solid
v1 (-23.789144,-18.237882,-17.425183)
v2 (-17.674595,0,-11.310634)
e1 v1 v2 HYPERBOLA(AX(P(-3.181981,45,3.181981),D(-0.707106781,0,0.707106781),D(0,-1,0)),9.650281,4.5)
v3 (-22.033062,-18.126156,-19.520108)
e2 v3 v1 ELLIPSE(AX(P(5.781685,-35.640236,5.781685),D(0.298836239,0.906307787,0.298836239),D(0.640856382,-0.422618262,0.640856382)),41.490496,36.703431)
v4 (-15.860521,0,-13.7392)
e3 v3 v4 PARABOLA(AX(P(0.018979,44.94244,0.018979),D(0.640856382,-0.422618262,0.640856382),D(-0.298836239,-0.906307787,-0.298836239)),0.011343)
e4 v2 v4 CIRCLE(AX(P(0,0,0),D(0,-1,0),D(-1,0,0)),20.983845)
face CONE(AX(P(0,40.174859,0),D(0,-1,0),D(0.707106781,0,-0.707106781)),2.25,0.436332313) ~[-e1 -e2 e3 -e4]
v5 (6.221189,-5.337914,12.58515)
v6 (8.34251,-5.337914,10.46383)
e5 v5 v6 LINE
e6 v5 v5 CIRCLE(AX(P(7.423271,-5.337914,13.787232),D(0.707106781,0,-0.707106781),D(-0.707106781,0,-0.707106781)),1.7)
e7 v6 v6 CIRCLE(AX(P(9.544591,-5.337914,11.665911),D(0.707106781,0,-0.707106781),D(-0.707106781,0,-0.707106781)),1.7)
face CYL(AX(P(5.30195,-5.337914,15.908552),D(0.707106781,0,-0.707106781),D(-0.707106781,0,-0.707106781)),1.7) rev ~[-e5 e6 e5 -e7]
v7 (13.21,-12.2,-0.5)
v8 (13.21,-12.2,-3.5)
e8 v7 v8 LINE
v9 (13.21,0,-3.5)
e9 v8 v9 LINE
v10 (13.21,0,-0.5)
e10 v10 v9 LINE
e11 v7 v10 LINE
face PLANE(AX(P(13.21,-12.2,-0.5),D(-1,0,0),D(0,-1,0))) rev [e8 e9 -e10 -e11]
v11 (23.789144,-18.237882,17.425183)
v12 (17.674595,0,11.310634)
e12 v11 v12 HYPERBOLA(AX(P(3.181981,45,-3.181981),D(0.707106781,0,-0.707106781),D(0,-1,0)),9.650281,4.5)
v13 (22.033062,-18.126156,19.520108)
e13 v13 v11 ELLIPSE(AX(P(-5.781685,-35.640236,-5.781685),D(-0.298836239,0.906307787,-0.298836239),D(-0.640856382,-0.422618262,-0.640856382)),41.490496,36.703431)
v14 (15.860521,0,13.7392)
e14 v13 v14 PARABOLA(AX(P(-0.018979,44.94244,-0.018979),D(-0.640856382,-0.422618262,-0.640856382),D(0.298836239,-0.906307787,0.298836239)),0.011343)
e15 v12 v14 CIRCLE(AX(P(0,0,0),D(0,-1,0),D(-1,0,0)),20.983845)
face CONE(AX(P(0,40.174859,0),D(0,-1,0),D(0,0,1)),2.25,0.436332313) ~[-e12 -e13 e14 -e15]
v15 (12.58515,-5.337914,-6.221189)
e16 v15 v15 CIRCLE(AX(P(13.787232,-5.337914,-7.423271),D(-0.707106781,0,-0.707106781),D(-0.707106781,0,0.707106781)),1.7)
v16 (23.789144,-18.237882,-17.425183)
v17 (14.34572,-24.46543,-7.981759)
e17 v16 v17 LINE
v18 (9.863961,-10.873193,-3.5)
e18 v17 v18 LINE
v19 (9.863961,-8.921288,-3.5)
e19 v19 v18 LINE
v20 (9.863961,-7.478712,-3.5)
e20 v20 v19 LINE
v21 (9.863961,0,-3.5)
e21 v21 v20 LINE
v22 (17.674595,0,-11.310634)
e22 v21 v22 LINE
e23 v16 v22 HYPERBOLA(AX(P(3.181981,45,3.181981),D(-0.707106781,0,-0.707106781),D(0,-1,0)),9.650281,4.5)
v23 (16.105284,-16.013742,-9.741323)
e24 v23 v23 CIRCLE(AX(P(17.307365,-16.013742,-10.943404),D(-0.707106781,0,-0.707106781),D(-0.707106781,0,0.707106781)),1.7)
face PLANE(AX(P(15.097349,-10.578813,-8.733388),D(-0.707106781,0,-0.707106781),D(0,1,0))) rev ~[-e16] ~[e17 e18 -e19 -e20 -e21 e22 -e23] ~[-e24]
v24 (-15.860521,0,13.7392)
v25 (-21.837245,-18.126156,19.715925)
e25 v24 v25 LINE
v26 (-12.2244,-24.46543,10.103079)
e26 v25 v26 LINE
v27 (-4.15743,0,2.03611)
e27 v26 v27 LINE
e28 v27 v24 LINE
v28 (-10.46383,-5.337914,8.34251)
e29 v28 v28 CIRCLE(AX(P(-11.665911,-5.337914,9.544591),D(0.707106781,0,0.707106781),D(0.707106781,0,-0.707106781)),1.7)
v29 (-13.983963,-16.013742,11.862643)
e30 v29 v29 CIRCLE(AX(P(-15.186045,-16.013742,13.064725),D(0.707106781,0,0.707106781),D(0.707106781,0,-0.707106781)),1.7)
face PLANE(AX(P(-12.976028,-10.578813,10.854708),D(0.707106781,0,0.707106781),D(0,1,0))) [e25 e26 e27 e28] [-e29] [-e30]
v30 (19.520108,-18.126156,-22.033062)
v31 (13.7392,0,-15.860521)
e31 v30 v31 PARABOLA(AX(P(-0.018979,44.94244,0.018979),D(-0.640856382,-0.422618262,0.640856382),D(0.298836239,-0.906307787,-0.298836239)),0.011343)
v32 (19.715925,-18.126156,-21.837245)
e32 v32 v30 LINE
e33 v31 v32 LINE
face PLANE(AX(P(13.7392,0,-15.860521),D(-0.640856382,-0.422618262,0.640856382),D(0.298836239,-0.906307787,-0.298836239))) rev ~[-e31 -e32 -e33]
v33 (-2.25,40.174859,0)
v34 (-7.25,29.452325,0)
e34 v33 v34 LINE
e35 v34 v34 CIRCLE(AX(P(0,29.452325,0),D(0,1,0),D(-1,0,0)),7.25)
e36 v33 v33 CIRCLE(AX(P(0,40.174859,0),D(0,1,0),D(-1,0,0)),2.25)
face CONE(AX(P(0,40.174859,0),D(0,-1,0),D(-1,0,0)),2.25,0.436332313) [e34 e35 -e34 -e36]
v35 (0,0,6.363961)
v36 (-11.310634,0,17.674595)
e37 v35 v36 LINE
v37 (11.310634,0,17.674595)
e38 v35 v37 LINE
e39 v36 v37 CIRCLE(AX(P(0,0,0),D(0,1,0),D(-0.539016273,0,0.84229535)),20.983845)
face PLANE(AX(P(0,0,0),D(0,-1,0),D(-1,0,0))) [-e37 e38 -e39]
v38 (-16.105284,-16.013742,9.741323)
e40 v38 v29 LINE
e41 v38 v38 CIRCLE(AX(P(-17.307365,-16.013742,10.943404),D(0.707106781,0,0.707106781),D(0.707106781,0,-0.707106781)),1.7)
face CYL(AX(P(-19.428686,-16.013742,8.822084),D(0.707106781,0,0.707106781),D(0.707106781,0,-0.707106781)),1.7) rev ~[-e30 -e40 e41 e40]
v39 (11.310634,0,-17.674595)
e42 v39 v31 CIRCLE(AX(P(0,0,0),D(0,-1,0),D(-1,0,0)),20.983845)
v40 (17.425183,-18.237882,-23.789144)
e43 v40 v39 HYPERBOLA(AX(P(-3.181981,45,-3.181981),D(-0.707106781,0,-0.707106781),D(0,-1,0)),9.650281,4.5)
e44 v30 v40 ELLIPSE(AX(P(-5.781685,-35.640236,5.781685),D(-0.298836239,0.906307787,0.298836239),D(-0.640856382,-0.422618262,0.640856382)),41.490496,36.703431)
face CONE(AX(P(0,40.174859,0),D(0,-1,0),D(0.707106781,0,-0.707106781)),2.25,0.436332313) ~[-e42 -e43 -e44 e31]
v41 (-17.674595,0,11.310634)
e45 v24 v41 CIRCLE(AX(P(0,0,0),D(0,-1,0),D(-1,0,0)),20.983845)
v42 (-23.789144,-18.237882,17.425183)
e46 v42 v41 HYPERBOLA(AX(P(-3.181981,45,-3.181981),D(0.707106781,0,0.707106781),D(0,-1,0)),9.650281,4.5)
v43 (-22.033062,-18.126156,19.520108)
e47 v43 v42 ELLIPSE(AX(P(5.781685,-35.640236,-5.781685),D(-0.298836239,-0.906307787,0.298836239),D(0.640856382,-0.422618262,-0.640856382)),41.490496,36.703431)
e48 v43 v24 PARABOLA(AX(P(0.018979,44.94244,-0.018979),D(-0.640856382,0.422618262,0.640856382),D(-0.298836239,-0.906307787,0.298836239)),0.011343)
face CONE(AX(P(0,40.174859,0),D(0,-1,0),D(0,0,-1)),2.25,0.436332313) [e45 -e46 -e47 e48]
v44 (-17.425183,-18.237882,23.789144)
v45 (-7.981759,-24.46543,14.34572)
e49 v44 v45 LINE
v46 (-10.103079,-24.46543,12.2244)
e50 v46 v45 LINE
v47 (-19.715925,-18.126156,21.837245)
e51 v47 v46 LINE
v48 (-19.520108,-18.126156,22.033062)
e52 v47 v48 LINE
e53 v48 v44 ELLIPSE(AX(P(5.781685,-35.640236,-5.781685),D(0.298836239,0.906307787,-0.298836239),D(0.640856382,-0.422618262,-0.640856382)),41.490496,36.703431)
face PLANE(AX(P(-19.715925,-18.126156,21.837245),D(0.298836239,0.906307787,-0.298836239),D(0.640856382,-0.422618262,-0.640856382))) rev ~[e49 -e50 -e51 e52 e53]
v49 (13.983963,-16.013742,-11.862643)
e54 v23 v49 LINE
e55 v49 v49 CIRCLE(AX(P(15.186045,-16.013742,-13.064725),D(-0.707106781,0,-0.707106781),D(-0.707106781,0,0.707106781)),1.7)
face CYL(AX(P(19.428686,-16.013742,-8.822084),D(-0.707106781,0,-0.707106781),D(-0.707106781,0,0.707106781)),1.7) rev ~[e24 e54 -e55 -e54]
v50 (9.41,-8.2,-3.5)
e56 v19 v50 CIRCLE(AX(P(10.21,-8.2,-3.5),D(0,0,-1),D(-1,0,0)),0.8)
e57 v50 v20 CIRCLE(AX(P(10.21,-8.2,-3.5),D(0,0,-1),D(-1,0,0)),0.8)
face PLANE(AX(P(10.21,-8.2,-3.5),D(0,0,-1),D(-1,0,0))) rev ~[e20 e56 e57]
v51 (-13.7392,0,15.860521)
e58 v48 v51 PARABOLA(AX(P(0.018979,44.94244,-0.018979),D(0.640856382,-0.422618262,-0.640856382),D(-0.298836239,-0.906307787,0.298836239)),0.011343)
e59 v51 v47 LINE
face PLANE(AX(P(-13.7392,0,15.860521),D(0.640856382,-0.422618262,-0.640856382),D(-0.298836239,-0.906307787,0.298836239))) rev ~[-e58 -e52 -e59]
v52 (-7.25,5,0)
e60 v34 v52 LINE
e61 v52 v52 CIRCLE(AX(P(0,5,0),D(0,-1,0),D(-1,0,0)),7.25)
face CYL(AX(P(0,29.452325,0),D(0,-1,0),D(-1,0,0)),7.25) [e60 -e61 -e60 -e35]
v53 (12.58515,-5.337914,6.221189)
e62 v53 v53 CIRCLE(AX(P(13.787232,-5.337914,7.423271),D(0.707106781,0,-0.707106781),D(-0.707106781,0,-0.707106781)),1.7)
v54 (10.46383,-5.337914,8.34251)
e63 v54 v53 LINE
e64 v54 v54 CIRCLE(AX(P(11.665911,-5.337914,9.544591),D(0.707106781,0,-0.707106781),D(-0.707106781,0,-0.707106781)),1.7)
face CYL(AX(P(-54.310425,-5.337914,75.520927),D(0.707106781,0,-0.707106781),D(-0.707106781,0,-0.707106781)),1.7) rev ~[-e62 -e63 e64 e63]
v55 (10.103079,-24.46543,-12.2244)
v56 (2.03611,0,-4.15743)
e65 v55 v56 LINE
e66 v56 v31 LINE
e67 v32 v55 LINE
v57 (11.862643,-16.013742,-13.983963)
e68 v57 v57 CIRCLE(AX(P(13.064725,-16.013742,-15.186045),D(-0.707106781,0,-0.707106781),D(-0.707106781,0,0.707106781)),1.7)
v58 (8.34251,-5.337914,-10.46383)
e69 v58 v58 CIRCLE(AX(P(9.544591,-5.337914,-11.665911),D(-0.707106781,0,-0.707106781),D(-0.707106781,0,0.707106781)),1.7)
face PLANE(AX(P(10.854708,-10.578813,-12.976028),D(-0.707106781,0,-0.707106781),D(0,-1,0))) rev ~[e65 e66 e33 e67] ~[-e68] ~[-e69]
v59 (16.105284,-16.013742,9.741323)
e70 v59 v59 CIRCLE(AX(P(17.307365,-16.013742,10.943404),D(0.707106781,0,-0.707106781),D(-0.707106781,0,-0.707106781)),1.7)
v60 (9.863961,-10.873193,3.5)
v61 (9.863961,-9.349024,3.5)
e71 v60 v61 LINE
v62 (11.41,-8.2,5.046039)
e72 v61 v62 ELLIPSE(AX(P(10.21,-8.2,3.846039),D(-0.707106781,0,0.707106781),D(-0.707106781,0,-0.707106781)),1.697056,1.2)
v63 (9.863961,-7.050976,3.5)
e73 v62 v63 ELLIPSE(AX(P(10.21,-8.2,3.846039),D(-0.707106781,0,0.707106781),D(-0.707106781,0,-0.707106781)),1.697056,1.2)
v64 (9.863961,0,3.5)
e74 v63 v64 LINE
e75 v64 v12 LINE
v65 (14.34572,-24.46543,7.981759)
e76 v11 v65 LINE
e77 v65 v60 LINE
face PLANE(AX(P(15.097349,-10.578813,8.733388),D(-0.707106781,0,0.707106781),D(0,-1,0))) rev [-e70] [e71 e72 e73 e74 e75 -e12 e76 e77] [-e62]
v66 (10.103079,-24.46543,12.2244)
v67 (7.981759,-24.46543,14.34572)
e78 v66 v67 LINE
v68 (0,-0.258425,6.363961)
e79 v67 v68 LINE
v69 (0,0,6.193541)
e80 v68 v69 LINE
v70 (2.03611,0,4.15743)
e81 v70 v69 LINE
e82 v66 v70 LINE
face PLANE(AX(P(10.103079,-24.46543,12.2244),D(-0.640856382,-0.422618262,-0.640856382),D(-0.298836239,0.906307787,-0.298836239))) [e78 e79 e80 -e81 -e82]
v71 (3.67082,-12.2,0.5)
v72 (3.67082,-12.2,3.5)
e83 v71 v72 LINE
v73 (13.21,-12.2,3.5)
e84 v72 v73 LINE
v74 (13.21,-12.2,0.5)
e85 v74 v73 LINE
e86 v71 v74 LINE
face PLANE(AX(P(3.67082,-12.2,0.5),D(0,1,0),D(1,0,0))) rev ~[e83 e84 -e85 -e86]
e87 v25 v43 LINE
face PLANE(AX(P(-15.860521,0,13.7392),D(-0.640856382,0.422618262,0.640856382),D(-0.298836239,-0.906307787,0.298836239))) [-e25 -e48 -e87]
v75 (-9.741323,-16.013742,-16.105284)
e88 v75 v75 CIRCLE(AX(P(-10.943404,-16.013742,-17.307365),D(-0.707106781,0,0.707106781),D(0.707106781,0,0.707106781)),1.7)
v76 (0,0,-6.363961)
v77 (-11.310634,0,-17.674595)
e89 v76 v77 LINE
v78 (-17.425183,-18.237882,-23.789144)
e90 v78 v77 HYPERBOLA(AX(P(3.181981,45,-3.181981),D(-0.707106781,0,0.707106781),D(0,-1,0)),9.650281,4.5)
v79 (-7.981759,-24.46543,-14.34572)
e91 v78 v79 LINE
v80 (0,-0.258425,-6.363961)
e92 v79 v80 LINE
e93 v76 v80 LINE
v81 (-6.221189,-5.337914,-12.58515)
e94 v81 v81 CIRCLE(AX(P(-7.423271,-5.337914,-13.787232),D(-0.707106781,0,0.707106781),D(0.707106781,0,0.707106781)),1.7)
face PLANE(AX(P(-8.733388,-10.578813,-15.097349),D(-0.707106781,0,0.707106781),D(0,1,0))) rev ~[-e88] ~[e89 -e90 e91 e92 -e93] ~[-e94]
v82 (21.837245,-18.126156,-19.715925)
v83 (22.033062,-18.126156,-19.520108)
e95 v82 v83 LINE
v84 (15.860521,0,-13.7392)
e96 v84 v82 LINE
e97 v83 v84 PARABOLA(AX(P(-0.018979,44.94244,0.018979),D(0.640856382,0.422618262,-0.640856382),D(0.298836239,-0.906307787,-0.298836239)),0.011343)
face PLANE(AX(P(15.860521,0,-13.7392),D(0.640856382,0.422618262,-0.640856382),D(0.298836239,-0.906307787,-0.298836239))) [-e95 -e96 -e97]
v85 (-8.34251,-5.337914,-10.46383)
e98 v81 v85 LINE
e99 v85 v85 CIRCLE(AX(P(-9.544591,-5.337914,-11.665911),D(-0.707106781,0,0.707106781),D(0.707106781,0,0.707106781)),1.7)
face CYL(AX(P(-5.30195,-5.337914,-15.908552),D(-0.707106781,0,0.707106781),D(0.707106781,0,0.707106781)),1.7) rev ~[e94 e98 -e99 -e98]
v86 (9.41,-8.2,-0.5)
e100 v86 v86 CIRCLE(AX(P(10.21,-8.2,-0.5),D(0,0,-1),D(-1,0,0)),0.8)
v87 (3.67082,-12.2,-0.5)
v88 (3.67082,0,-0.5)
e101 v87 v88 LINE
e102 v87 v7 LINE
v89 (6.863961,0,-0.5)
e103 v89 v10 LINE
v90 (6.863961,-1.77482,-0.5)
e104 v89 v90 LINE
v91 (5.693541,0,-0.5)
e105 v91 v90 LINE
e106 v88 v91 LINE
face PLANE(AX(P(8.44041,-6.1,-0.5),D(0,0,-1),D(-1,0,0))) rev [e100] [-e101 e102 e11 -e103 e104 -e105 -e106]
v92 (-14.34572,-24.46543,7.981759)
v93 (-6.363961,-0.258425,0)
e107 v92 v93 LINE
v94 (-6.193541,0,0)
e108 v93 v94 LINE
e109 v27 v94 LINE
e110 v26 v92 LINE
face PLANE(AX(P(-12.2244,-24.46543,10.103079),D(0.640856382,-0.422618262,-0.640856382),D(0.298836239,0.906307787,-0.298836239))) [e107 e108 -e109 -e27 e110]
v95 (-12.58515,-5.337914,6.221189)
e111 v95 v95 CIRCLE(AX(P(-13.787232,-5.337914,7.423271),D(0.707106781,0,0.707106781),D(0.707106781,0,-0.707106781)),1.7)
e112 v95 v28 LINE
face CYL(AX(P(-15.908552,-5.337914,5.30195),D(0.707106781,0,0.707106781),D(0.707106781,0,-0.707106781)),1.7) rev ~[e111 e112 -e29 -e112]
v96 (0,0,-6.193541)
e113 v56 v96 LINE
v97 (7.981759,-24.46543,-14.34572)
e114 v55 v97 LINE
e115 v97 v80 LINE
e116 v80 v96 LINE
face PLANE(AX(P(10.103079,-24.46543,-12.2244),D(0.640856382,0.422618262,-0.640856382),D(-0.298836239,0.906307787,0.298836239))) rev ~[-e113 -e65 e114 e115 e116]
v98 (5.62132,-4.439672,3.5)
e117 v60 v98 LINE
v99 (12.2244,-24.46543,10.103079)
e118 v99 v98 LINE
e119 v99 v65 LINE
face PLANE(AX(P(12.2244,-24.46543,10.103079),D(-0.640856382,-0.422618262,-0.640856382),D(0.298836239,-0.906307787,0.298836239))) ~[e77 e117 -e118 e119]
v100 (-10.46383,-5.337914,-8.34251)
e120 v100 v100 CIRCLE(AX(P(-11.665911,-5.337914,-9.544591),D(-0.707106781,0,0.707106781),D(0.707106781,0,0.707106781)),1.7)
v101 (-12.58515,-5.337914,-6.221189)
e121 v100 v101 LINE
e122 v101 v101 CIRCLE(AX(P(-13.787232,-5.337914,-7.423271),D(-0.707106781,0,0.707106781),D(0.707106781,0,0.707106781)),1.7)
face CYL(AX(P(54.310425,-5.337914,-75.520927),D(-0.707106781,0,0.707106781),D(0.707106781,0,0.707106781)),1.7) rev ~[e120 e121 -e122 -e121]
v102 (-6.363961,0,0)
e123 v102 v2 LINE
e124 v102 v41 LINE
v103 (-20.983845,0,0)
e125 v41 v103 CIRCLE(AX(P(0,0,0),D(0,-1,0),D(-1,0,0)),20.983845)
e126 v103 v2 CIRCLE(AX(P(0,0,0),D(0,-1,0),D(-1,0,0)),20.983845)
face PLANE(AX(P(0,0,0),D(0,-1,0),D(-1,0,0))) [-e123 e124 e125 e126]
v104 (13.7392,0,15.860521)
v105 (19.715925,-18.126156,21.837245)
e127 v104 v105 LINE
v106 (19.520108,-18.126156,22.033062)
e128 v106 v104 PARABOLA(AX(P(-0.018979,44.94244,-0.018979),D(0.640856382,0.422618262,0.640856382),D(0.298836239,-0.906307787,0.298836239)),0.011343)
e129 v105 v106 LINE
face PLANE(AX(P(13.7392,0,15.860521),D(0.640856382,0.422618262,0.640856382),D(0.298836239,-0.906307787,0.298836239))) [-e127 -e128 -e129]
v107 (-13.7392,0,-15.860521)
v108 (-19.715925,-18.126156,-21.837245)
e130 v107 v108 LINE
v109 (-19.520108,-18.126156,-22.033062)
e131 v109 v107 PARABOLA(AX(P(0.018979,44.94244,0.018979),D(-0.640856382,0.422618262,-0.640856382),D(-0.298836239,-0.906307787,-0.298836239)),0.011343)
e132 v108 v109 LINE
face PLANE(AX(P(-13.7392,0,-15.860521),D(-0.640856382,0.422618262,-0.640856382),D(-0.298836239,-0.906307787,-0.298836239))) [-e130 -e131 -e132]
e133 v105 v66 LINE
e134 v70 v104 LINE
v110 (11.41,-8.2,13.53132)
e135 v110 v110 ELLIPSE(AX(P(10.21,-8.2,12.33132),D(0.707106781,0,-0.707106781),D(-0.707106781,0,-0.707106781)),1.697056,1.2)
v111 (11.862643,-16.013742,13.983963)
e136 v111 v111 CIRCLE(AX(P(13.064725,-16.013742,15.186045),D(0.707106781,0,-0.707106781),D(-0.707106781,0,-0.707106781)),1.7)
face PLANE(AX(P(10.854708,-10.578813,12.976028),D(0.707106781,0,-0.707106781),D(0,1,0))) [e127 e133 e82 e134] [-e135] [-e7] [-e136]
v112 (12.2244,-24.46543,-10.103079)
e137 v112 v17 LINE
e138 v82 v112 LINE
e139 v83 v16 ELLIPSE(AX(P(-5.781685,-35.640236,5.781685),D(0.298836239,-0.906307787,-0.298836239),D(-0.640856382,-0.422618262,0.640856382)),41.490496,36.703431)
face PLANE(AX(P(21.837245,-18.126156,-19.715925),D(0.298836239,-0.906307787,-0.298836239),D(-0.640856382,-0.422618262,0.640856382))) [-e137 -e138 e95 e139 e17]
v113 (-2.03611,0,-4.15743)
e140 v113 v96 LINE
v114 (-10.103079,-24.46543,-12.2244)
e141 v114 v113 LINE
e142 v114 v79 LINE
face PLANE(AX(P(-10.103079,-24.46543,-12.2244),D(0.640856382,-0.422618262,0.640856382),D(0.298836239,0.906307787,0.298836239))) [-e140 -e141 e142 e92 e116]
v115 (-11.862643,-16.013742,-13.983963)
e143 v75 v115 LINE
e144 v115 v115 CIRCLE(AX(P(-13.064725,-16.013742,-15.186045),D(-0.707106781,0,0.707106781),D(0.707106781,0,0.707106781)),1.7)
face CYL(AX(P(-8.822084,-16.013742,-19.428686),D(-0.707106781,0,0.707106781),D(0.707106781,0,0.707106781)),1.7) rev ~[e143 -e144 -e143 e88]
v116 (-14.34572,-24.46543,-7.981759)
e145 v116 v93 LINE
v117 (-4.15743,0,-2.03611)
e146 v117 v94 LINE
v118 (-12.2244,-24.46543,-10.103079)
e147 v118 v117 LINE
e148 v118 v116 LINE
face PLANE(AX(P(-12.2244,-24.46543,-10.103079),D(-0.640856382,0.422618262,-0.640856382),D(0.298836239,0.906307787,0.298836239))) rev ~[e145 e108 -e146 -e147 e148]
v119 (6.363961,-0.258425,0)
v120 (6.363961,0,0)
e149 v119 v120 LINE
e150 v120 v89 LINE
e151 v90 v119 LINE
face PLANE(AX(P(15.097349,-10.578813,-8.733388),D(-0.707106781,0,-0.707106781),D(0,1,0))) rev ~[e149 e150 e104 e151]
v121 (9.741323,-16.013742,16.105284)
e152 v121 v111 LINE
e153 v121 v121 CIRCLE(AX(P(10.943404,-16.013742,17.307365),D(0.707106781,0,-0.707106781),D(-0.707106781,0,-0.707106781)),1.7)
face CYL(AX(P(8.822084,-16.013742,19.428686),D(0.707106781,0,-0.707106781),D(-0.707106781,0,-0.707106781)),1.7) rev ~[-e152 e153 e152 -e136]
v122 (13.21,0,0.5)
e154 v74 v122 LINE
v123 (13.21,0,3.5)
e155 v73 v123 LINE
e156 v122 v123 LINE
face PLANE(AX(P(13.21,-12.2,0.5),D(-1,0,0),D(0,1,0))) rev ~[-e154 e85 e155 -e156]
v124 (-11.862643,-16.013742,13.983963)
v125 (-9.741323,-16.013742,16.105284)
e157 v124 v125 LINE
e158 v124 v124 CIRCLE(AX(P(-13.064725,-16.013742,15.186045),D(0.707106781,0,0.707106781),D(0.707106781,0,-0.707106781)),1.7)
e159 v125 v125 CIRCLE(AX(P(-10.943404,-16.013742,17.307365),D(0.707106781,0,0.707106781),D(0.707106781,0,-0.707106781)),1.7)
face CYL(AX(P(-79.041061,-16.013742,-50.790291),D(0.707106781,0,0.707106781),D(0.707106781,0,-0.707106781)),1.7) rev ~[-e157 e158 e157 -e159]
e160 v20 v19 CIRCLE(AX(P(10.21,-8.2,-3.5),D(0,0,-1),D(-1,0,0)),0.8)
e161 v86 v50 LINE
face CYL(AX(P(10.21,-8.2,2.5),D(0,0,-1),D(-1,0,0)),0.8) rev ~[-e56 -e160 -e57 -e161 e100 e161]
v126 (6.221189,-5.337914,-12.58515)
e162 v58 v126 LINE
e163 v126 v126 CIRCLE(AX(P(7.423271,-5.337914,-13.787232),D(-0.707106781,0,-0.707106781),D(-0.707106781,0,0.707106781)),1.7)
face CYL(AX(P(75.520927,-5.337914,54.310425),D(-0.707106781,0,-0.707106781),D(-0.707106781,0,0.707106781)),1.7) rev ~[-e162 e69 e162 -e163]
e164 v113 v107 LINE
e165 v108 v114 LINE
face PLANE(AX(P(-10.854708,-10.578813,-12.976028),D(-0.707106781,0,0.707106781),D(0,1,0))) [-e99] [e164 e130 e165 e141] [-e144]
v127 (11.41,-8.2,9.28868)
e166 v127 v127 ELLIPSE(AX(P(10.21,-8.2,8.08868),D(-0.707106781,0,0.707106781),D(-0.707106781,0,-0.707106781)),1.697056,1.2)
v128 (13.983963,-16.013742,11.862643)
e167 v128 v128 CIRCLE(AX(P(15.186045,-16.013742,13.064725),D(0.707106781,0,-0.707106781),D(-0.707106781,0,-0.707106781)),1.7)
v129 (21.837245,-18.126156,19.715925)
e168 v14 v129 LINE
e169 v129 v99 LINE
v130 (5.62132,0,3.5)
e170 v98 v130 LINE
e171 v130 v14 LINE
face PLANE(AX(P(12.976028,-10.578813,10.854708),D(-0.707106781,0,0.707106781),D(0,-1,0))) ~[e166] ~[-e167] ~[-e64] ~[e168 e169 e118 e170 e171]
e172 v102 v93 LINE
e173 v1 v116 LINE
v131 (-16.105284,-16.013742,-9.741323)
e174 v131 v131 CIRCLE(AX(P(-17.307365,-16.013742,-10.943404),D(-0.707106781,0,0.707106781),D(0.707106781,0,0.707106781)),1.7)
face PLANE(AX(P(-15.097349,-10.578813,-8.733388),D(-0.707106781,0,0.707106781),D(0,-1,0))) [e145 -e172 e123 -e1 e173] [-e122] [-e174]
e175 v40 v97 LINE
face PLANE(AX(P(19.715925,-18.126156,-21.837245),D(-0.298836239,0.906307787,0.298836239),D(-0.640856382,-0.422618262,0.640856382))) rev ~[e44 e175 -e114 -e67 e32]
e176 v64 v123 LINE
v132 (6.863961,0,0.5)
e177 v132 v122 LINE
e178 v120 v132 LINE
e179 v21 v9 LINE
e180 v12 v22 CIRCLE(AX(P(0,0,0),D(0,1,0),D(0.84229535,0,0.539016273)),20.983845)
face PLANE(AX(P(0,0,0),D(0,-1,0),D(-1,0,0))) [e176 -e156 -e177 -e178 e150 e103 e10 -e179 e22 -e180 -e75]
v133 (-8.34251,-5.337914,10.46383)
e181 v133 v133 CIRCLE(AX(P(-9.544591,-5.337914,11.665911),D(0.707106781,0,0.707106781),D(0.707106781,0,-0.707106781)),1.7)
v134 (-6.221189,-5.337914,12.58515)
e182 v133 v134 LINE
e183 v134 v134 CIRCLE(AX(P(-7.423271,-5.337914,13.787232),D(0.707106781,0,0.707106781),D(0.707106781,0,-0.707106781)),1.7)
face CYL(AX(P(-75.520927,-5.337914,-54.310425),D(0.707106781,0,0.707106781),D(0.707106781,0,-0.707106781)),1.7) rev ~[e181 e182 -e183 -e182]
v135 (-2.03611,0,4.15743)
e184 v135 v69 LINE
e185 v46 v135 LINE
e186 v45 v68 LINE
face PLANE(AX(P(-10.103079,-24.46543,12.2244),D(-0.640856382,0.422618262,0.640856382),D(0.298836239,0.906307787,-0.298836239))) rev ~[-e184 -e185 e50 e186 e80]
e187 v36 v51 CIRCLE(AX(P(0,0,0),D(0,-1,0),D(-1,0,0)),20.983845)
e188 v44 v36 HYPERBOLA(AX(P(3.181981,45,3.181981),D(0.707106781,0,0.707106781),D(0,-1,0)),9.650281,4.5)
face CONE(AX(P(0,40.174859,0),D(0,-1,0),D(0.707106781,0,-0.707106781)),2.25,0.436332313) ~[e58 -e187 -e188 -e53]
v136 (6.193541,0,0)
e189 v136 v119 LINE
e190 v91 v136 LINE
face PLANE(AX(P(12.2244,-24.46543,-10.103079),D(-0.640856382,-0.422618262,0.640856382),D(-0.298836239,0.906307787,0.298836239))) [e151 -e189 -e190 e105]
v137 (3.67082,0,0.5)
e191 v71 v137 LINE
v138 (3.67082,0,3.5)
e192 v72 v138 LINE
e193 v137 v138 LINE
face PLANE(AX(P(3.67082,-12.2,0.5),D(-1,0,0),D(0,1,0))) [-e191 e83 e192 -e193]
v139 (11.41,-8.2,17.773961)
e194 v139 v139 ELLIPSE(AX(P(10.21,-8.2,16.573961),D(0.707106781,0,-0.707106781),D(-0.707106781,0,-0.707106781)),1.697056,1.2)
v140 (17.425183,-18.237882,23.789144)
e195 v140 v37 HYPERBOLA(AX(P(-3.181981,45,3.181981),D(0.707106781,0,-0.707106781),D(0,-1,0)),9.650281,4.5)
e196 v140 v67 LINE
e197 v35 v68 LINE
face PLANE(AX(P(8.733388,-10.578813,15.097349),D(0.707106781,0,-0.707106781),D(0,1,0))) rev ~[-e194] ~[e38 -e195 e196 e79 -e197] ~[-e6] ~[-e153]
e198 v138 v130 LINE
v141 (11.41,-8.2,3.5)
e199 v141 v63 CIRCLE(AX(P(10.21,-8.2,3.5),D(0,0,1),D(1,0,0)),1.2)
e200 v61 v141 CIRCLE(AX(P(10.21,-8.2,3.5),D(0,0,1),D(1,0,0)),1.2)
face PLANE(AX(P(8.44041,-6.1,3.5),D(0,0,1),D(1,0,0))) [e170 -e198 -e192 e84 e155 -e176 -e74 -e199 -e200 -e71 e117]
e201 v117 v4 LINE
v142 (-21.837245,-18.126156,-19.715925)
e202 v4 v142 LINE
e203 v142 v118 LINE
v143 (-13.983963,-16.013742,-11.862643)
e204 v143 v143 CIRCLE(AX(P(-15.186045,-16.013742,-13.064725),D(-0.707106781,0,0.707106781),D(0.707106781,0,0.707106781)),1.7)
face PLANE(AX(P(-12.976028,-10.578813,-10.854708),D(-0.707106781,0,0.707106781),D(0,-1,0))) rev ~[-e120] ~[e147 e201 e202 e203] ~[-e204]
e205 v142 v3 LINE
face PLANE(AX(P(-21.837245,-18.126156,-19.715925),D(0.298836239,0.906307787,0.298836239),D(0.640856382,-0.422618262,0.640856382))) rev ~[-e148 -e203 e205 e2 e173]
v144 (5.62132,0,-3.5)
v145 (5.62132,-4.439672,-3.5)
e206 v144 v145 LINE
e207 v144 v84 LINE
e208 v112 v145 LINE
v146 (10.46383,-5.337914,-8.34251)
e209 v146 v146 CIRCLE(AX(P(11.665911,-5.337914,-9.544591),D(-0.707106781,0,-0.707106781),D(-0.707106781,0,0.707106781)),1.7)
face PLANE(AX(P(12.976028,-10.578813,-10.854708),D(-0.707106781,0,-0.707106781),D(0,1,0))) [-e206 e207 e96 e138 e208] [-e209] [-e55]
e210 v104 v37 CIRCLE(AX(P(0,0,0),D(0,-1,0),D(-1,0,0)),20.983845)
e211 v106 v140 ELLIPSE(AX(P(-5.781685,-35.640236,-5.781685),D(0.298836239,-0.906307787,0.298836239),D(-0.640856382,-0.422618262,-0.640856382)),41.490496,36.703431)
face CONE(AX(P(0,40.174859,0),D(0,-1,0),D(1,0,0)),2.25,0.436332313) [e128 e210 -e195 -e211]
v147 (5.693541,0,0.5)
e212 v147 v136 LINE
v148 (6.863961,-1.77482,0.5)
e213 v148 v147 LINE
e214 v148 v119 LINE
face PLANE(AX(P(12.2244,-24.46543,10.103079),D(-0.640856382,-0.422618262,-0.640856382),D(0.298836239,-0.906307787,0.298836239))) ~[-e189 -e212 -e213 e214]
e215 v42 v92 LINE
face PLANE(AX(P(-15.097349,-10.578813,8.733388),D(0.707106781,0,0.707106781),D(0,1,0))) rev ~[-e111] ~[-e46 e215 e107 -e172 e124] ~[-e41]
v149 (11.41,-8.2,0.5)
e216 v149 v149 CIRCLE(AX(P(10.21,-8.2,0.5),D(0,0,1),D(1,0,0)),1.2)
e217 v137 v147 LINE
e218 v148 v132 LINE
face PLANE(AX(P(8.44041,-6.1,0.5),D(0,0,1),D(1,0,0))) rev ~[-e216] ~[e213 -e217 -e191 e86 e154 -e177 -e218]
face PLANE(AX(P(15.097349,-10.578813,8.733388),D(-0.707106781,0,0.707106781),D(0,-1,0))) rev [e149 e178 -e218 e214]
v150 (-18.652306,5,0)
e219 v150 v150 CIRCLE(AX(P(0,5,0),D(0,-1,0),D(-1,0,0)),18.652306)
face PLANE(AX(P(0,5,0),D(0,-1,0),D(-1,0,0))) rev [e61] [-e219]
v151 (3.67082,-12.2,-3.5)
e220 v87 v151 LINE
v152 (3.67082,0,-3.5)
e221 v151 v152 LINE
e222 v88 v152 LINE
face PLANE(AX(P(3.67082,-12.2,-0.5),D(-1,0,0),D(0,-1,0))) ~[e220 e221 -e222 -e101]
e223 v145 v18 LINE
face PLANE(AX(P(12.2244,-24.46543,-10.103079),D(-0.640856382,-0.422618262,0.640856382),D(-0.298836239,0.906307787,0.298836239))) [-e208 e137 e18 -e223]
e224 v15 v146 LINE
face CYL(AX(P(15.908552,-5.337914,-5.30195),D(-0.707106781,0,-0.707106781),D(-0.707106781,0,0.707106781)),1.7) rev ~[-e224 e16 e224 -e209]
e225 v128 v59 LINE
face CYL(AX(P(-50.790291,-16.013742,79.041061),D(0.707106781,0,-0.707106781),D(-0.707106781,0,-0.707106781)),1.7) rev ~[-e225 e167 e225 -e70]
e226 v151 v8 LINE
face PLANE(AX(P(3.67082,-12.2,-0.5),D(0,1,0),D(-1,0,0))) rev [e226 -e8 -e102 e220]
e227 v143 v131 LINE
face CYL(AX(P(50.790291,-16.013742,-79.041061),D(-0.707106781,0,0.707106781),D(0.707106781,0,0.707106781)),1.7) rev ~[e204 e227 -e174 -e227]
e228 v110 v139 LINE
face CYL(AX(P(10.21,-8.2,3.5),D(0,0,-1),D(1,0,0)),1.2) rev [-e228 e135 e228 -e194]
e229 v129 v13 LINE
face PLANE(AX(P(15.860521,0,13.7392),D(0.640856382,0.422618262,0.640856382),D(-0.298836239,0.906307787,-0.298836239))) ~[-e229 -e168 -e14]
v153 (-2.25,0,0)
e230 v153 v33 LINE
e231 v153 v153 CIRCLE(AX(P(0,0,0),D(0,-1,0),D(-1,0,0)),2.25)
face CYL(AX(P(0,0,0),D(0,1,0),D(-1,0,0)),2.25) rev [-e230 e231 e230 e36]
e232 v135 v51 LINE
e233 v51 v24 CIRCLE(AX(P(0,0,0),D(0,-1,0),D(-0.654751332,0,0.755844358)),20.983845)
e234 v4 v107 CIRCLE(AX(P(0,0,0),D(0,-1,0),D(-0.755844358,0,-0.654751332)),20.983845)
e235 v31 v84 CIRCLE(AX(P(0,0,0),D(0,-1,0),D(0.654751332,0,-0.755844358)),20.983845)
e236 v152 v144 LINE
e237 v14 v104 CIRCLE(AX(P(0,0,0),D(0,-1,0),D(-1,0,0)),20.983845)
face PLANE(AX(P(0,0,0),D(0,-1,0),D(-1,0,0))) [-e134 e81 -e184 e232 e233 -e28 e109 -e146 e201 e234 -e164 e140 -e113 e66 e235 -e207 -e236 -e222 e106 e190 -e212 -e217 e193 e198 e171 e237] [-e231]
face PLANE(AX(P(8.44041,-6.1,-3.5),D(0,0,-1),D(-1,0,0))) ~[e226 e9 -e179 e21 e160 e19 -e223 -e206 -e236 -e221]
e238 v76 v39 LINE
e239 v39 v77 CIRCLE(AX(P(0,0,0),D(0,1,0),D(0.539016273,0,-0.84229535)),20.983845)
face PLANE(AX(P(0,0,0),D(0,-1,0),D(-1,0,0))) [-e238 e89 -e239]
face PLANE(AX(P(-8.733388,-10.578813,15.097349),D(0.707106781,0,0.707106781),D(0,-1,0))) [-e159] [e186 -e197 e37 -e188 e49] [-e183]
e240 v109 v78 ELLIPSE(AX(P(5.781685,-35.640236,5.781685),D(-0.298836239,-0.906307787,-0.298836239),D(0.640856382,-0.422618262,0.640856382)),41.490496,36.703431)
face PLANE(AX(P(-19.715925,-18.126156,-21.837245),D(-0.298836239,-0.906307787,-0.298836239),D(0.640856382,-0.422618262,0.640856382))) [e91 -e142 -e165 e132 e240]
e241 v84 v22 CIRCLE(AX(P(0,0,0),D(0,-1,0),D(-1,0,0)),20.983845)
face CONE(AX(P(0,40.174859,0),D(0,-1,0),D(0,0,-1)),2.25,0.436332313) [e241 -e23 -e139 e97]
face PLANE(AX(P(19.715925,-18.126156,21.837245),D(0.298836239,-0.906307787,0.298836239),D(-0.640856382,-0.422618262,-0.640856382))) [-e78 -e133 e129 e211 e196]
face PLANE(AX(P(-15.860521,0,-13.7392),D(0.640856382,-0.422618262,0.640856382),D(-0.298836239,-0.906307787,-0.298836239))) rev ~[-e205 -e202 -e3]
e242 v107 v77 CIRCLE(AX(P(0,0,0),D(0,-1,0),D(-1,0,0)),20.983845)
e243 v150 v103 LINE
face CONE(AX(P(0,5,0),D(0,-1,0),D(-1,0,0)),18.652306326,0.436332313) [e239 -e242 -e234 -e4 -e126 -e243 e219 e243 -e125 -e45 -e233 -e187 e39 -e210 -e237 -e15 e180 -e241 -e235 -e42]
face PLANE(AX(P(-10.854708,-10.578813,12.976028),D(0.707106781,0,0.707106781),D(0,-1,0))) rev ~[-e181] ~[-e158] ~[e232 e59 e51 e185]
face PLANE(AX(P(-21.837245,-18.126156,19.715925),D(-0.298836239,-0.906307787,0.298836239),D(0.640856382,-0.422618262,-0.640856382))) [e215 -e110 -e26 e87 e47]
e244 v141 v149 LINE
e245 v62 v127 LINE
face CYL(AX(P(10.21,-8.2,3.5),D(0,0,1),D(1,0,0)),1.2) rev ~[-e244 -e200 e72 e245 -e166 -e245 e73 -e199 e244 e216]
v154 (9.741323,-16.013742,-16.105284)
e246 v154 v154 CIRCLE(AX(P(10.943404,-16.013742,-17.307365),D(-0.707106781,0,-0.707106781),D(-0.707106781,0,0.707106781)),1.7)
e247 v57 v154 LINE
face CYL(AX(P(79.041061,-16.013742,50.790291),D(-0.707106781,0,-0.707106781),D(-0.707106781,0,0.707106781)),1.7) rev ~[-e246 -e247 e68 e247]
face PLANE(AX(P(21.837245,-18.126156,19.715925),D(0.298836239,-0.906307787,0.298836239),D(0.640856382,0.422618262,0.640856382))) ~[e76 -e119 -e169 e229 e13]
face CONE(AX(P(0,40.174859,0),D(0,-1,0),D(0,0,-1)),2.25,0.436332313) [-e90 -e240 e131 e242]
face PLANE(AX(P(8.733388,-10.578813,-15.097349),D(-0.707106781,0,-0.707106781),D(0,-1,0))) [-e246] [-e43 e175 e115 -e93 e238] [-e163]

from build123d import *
from build123d.topology import SkipClean

# Parameters (mm, degrees)
SKETCH4_W                       = 9.539179917
SKETCH4_H                       = 12.2
BOSS_EXTRUDE1_DEPTH             = 3
BOSS_EXTRUDE2_DEPTH             = 3
CIRPATTERN2_COUNT               = 4
CIRPATTERN2_COPY_1_DEPTH        = 3
CIRPATTERN2_COPY_2_DEPTH        = 3
CIRPATTERN2_COPY_3_DEPTH        = 3
CUT_EXTRUDE1_REACH              = 56.08
SKETCH8_R                       = 1.2
CUT_EXTRUDE1_DIRECTION_2_DEPTH  = 55.079941432
TAP_DRILL_FOR_M2X0_4_TAP1_D     = 1.6
TAP_DRILL_FOR_M2X0_4_TAP1_DEPTH = 3
M3_CLEARANCE_HOLE1_D            = 3.4
M3_CLEARANCE_HOLE1_DEPTH        = 3
M3_CLEARANCE_HOLE2_D            = 3.4
CIRPATTERN3_COUNT               = 4


with BuildPart() as part:
    # Sketch3 → Revolve1 (revolve)
    with BuildSketch(Plane.XY, mode=Mode.PRIVATE) as revolve1_sk:
        Polygon((2.25, 0), (2.25, 40.174859429), (7.25, 29.452324826), (7.25, 5), (18.652306326, 5), (20.983844617, 0), align=None)
    revolve(revolve1_sk.sketch.rotate(Axis((0, 21.429426471, 0), (0, -1, 0)), 180), axis=Axis((0, 21.429426471, 0), (0, -1, 0)))

    # Sketch4 → Boss-Extrude1 (add)
    with BuildSketch(Plane.XY.offset(0.5)):
        with Locations((8.440410041, -6.1)):
            Rectangle(SKETCH4_W, SKETCH4_H)
    boss_extrude1 = extrude(amount=BOSS_EXTRUDE1_DEPTH)

    # Mirror1: Boss-Extrude1 across plane
    add(boss_extrude1.mirror(Plane.XY))

    # Sketch9 → Boss-Extrude2 (add)
    with BuildSketch(Plane(origin=(-1.060660172, 0, 1.060660172), x_dir=(0, -1, 0), z_dir=(-0.7071067811865488, 0, 0.7071067811865464))):
        Polygon((0, 20.93016328), (18.126155741, 29.382528514), (24.465429667, 15.787911709), (0, 4.379494495), align=None)
    boss_extrude2 = extrude(amount=BOSS_EXTRUDE2_DEPTH)

    # Sketch10 → Cut-Revolve1 (revolve, cut)
    with SkipClean():  # the faces are left unmerged after this step: merging them gives an invalid solid
        with BuildSketch(Plane(origin=(0, 0, 0), x_dir=(-0.7071067811865464, 0, -0.7071067811865488), z_dir=(0.7071067811865488, 0, -0.7071067811865464)), mode=Mode.PRIVATE) as cut_revolve1_sk:
            Polygon((-2.25, 40.174859429), (-32.392261831, -24.465429667), (-32.392261831, 40.174859429), align=None)
        cut_revolve1 = revolve(cut_revolve1_sk.sketch.rotate(Axis((0, 55, 0), (0, -1, 0)), 315), axis=Axis((0, 55, 0), (0, -1, 0)), mode=Mode.SUBTRACT)

    # Mirror2: Boss-Extrude2, Cut-Revolve1 across plane
    with SkipClean():  # the faces are left unmerged after this step: merging them gives an invalid solid
        add(boss_extrude2.mirror(Plane(origin=(0, 0, 0), x_dir=(0.7071067811865465, 0, 0.7071067811865486), z_dir=(-0.7071067811865488, 0, 0.7071067811865464))))
        add(cut_revolve1.mirror(Plane(origin=(0, 0, 0), x_dir=(0.7071067811865465, 0, 0.7071067811865486), z_dir=(-0.7071067811865488, 0, 0.7071067811865464))), mode=Mode.SUBTRACT)

    # CirPattern2: Boss-Extrude2, Cut-Revolve1 ×4 about axis
    with SkipClean():  # the faces are left unmerged after this step: merging them gives an invalid solid
        cirpattern2_axis = Axis((0, 0, 0), (0, 1, 0))
        add([boss_extrude2.rotate(cirpattern2_axis, i * 360 / CIRPATTERN2_COUNT) for i in range(1, CIRPATTERN2_COUNT)])
        add([cut_revolve1.rotate(cirpattern2_axis, i * 360 / CIRPATTERN2_COUNT) for i in range(1, CIRPATTERN2_COUNT)], mode=Mode.SUBTRACT)

    # CirPattern2 copy 1 sketch → CirPattern2 copy 1 (add)
    with SkipClean():  # the faces are left unmerged after this step: merging them gives an invalid solid
        with BuildSketch(Plane(origin=(-1.060660172, 0, -1.060660172), x_dir=(0, -1, 0), z_dir=(-0.7071067811865465, 0, -0.707106781186549))):
            Polygon((0, -20.93016328), (18.126155741, -29.382528514), (24.465429667, -15.787911709), (0, -4.379494495), align=None)
        extrude(amount=CIRPATTERN2_COPY_1_DEPTH)

    # CirPattern2 copy 2 sketch → CirPattern2 copy 2 (add)
    with SkipClean():  # the faces are left unmerged after this step: merging them gives an invalid solid
        with BuildSketch(Plane(origin=(-1.060660172, 0, 1.060660172), x_dir=(0, -1, 0), z_dir=(-0.707106781186549, 0, 0.7071067811865465))):
            Polygon((0, -20.93016328), (18.126155741, -29.382528514), (24.465429667, -15.787911709), (0, -4.379494495), align=None)
        extrude(amount=CIRPATTERN2_COPY_2_DEPTH)

    # CirPattern2 copy 3 sketch → CirPattern2 copy 3 (add)
    with SkipClean():  # the faces are left unmerged after this step: merging them gives an invalid solid
        with BuildSketch(Plane(origin=(1.060660172, 0, 1.060660172), x_dir=(0, -1, 0), z_dir=(0.7071067811865465, 0, 0.7071067811865491))):
            Polygon((0, -20.93016328), (18.126155741, -29.382528514), (24.465429667, -15.787911709), (0, -4.379494495), align=None)
        extrude(amount=CIRPATTERN2_COPY_3_DEPTH)

    # CirPattern2 copy 4 sketch → CirPattern2 copy 4 (revolve, cut)
    with SkipClean():  # the faces are left unmerged after this step: merging them gives an invalid solid
        with BuildSketch(Plane(origin=(0, 0, 0), x_dir=(-0.7071067811865489, 0, 0.7071067811865464), z_dir=(0.7071067811865465, 0, 0.707106781186549))):
            Polygon((-2.25, -40.174859429), (-32.392261831, 24.465429667), (-32.392261831, -40.174859429), align=None)
        revolve(axis=Axis((0, 55, 0), (0, 1, 0)), mode=Mode.SUBTRACT)

    # CirPattern2 copy 5 sketch → CirPattern2 copy 5 (revolve, cut)
    with SkipClean():  # the faces are left unmerged after this step: merging them gives an invalid solid
        with BuildSketch(Plane(origin=(0, 0, 0), x_dir=(0.7071067811865464, 0, 0.7071067811865489), z_dir=(0.707106781186549, 0, -0.7071067811865465))):
            Polygon((-2.25, -40.174859429), (-32.392261831, 24.465429667), (-32.392261831, -40.174859429), align=None)
        revolve(axis=Axis((0, 55, 0), (0, 1, 0)), mode=Mode.SUBTRACT)

    # CirPattern2 copy 6 sketch → CirPattern2 copy 6 (revolve, cut)
    with SkipClean():  # the faces are left unmerged after this step: merging them gives an invalid solid
        with BuildSketch(Plane(origin=(0, 0, 0), x_dir=(0.7071067811865489, 0, -0.7071067811865462), z_dir=(-0.7071067811865465, 0, -0.7071067811865491))):
            Polygon((-2.25, -40.174859429), (-32.392261831, 24.465429667), (-32.392261831, -40.174859429), align=None)
        revolve(axis=Axis((0, 55, 0), (0, 1, 0)), mode=Mode.SUBTRACT)

    # Cut-Extrude1: up to this face of the body (flat: up to its plane)
    cut_extrude1_end = Plane(part.part.faces().sort_by_distance((8.458119385, -6.149603662, 0.5))[0])
    # Sketch8 → Cut-Extrude1 (cut, up to the picked face)
    with BuildSketch(Plane.XY.offset(3.5), mode=Mode.PRIVATE) as cut_extrude1_sk1:
        with Locations((10.21, -8.2)):
            Circle(SKETCH8_R)
    cut_extrude1_tool1 = split(extrude(cut_extrude1_sk1.sketch, amount=-CUT_EXTRUDE1_REACH, mode=Mode.PRIVATE), bisect_by=cut_extrude1_end, keep=Keep.BOTH, mode=Mode.PRIVATE)
    add(cut_extrude1_tool1.solids().sort_by(Axis((10.21, -8.2, 3.5), (0, 0, -1)))[0], mode=Mode.SUBTRACT)

    # Sketch8 → Cut-Extrude1 direction 2 (cut)
    with SkipClean():  # the faces are left unmerged after this step: merging them gives an invalid solid
        with BuildSketch(Plane.XY.offset(3.5)):
            with Locations((10.21, -8.2)):
                Circle(SKETCH8_R)
        extrude(amount=CUT_EXTRUDE1_DIRECTION_2_DEPTH, mode=Mode.SUBTRACT)

    # Tap Drill for M2x0.4 Tap1
    with Locations(Plane.XY.offset(-0.5)):
        with Locations((10.21, -8.2)):
            Hole(TAP_DRILL_FOR_M2X0_4_TAP1_D / 2, depth=TAP_DRILL_FOR_M2X0_4_TAP1_DEPTH)

    # M3 Clearance Hole1
    with Locations(Plane(origin=(-3.181980515, 0, 3.181980515), x_dir=(0.7071067811865465, 0, 0.7071067811865487), z_dir=(-0.7071067811865487, 0, 0.7071067811865465))):
        with Locations((14.998090227, -5.337914013), (19.976310592, -16.013742039)):
            m3_clearance_hole1 = Hole(M3_CLEARANCE_HOLE1_D / 2, depth=M3_CLEARANCE_HOLE1_DEPTH)

    # M3 Clearance Hole2 (through all)
    with Locations(Plane(origin=(1.060660172, 0, -1.060660172), x_dir=(0.7071067811865465, 0, 0.7071067811865487), z_dir=(-0.7071067811865487, 0, 0.7071067811865465))):
        with Locations((19.976310592, -16.013742039), (14.998090227, -5.337914013)):
            m3_clearance_hole2 = Hole(M3_CLEARANCE_HOLE2_D / 2)

    # CirPattern3: M3 Clearance Hole1, M3 Clearance Hole2 ×4 about axis
    with SkipClean():  # the faces are left unmerged after this step: merging them gives an invalid solid
        cirpattern3_axis = Axis((0, 55, 0), (0, -1, 0))
        add([m3_clearance_hole1.rotate(cirpattern3_axis, i * 360 / CIRPATTERN3_COUNT) for i in range(1, CIRPATTERN3_COUNT)], mode=Mode.SUBTRACT)
        add([m3_clearance_hole2.rotate(cirpattern3_axis, i * 360 / CIRPATTERN3_COUNT) for i in range(1, CIRPATTERN3_COUNT)], mode=Mode.SUBTRACT)


solid = part.part
